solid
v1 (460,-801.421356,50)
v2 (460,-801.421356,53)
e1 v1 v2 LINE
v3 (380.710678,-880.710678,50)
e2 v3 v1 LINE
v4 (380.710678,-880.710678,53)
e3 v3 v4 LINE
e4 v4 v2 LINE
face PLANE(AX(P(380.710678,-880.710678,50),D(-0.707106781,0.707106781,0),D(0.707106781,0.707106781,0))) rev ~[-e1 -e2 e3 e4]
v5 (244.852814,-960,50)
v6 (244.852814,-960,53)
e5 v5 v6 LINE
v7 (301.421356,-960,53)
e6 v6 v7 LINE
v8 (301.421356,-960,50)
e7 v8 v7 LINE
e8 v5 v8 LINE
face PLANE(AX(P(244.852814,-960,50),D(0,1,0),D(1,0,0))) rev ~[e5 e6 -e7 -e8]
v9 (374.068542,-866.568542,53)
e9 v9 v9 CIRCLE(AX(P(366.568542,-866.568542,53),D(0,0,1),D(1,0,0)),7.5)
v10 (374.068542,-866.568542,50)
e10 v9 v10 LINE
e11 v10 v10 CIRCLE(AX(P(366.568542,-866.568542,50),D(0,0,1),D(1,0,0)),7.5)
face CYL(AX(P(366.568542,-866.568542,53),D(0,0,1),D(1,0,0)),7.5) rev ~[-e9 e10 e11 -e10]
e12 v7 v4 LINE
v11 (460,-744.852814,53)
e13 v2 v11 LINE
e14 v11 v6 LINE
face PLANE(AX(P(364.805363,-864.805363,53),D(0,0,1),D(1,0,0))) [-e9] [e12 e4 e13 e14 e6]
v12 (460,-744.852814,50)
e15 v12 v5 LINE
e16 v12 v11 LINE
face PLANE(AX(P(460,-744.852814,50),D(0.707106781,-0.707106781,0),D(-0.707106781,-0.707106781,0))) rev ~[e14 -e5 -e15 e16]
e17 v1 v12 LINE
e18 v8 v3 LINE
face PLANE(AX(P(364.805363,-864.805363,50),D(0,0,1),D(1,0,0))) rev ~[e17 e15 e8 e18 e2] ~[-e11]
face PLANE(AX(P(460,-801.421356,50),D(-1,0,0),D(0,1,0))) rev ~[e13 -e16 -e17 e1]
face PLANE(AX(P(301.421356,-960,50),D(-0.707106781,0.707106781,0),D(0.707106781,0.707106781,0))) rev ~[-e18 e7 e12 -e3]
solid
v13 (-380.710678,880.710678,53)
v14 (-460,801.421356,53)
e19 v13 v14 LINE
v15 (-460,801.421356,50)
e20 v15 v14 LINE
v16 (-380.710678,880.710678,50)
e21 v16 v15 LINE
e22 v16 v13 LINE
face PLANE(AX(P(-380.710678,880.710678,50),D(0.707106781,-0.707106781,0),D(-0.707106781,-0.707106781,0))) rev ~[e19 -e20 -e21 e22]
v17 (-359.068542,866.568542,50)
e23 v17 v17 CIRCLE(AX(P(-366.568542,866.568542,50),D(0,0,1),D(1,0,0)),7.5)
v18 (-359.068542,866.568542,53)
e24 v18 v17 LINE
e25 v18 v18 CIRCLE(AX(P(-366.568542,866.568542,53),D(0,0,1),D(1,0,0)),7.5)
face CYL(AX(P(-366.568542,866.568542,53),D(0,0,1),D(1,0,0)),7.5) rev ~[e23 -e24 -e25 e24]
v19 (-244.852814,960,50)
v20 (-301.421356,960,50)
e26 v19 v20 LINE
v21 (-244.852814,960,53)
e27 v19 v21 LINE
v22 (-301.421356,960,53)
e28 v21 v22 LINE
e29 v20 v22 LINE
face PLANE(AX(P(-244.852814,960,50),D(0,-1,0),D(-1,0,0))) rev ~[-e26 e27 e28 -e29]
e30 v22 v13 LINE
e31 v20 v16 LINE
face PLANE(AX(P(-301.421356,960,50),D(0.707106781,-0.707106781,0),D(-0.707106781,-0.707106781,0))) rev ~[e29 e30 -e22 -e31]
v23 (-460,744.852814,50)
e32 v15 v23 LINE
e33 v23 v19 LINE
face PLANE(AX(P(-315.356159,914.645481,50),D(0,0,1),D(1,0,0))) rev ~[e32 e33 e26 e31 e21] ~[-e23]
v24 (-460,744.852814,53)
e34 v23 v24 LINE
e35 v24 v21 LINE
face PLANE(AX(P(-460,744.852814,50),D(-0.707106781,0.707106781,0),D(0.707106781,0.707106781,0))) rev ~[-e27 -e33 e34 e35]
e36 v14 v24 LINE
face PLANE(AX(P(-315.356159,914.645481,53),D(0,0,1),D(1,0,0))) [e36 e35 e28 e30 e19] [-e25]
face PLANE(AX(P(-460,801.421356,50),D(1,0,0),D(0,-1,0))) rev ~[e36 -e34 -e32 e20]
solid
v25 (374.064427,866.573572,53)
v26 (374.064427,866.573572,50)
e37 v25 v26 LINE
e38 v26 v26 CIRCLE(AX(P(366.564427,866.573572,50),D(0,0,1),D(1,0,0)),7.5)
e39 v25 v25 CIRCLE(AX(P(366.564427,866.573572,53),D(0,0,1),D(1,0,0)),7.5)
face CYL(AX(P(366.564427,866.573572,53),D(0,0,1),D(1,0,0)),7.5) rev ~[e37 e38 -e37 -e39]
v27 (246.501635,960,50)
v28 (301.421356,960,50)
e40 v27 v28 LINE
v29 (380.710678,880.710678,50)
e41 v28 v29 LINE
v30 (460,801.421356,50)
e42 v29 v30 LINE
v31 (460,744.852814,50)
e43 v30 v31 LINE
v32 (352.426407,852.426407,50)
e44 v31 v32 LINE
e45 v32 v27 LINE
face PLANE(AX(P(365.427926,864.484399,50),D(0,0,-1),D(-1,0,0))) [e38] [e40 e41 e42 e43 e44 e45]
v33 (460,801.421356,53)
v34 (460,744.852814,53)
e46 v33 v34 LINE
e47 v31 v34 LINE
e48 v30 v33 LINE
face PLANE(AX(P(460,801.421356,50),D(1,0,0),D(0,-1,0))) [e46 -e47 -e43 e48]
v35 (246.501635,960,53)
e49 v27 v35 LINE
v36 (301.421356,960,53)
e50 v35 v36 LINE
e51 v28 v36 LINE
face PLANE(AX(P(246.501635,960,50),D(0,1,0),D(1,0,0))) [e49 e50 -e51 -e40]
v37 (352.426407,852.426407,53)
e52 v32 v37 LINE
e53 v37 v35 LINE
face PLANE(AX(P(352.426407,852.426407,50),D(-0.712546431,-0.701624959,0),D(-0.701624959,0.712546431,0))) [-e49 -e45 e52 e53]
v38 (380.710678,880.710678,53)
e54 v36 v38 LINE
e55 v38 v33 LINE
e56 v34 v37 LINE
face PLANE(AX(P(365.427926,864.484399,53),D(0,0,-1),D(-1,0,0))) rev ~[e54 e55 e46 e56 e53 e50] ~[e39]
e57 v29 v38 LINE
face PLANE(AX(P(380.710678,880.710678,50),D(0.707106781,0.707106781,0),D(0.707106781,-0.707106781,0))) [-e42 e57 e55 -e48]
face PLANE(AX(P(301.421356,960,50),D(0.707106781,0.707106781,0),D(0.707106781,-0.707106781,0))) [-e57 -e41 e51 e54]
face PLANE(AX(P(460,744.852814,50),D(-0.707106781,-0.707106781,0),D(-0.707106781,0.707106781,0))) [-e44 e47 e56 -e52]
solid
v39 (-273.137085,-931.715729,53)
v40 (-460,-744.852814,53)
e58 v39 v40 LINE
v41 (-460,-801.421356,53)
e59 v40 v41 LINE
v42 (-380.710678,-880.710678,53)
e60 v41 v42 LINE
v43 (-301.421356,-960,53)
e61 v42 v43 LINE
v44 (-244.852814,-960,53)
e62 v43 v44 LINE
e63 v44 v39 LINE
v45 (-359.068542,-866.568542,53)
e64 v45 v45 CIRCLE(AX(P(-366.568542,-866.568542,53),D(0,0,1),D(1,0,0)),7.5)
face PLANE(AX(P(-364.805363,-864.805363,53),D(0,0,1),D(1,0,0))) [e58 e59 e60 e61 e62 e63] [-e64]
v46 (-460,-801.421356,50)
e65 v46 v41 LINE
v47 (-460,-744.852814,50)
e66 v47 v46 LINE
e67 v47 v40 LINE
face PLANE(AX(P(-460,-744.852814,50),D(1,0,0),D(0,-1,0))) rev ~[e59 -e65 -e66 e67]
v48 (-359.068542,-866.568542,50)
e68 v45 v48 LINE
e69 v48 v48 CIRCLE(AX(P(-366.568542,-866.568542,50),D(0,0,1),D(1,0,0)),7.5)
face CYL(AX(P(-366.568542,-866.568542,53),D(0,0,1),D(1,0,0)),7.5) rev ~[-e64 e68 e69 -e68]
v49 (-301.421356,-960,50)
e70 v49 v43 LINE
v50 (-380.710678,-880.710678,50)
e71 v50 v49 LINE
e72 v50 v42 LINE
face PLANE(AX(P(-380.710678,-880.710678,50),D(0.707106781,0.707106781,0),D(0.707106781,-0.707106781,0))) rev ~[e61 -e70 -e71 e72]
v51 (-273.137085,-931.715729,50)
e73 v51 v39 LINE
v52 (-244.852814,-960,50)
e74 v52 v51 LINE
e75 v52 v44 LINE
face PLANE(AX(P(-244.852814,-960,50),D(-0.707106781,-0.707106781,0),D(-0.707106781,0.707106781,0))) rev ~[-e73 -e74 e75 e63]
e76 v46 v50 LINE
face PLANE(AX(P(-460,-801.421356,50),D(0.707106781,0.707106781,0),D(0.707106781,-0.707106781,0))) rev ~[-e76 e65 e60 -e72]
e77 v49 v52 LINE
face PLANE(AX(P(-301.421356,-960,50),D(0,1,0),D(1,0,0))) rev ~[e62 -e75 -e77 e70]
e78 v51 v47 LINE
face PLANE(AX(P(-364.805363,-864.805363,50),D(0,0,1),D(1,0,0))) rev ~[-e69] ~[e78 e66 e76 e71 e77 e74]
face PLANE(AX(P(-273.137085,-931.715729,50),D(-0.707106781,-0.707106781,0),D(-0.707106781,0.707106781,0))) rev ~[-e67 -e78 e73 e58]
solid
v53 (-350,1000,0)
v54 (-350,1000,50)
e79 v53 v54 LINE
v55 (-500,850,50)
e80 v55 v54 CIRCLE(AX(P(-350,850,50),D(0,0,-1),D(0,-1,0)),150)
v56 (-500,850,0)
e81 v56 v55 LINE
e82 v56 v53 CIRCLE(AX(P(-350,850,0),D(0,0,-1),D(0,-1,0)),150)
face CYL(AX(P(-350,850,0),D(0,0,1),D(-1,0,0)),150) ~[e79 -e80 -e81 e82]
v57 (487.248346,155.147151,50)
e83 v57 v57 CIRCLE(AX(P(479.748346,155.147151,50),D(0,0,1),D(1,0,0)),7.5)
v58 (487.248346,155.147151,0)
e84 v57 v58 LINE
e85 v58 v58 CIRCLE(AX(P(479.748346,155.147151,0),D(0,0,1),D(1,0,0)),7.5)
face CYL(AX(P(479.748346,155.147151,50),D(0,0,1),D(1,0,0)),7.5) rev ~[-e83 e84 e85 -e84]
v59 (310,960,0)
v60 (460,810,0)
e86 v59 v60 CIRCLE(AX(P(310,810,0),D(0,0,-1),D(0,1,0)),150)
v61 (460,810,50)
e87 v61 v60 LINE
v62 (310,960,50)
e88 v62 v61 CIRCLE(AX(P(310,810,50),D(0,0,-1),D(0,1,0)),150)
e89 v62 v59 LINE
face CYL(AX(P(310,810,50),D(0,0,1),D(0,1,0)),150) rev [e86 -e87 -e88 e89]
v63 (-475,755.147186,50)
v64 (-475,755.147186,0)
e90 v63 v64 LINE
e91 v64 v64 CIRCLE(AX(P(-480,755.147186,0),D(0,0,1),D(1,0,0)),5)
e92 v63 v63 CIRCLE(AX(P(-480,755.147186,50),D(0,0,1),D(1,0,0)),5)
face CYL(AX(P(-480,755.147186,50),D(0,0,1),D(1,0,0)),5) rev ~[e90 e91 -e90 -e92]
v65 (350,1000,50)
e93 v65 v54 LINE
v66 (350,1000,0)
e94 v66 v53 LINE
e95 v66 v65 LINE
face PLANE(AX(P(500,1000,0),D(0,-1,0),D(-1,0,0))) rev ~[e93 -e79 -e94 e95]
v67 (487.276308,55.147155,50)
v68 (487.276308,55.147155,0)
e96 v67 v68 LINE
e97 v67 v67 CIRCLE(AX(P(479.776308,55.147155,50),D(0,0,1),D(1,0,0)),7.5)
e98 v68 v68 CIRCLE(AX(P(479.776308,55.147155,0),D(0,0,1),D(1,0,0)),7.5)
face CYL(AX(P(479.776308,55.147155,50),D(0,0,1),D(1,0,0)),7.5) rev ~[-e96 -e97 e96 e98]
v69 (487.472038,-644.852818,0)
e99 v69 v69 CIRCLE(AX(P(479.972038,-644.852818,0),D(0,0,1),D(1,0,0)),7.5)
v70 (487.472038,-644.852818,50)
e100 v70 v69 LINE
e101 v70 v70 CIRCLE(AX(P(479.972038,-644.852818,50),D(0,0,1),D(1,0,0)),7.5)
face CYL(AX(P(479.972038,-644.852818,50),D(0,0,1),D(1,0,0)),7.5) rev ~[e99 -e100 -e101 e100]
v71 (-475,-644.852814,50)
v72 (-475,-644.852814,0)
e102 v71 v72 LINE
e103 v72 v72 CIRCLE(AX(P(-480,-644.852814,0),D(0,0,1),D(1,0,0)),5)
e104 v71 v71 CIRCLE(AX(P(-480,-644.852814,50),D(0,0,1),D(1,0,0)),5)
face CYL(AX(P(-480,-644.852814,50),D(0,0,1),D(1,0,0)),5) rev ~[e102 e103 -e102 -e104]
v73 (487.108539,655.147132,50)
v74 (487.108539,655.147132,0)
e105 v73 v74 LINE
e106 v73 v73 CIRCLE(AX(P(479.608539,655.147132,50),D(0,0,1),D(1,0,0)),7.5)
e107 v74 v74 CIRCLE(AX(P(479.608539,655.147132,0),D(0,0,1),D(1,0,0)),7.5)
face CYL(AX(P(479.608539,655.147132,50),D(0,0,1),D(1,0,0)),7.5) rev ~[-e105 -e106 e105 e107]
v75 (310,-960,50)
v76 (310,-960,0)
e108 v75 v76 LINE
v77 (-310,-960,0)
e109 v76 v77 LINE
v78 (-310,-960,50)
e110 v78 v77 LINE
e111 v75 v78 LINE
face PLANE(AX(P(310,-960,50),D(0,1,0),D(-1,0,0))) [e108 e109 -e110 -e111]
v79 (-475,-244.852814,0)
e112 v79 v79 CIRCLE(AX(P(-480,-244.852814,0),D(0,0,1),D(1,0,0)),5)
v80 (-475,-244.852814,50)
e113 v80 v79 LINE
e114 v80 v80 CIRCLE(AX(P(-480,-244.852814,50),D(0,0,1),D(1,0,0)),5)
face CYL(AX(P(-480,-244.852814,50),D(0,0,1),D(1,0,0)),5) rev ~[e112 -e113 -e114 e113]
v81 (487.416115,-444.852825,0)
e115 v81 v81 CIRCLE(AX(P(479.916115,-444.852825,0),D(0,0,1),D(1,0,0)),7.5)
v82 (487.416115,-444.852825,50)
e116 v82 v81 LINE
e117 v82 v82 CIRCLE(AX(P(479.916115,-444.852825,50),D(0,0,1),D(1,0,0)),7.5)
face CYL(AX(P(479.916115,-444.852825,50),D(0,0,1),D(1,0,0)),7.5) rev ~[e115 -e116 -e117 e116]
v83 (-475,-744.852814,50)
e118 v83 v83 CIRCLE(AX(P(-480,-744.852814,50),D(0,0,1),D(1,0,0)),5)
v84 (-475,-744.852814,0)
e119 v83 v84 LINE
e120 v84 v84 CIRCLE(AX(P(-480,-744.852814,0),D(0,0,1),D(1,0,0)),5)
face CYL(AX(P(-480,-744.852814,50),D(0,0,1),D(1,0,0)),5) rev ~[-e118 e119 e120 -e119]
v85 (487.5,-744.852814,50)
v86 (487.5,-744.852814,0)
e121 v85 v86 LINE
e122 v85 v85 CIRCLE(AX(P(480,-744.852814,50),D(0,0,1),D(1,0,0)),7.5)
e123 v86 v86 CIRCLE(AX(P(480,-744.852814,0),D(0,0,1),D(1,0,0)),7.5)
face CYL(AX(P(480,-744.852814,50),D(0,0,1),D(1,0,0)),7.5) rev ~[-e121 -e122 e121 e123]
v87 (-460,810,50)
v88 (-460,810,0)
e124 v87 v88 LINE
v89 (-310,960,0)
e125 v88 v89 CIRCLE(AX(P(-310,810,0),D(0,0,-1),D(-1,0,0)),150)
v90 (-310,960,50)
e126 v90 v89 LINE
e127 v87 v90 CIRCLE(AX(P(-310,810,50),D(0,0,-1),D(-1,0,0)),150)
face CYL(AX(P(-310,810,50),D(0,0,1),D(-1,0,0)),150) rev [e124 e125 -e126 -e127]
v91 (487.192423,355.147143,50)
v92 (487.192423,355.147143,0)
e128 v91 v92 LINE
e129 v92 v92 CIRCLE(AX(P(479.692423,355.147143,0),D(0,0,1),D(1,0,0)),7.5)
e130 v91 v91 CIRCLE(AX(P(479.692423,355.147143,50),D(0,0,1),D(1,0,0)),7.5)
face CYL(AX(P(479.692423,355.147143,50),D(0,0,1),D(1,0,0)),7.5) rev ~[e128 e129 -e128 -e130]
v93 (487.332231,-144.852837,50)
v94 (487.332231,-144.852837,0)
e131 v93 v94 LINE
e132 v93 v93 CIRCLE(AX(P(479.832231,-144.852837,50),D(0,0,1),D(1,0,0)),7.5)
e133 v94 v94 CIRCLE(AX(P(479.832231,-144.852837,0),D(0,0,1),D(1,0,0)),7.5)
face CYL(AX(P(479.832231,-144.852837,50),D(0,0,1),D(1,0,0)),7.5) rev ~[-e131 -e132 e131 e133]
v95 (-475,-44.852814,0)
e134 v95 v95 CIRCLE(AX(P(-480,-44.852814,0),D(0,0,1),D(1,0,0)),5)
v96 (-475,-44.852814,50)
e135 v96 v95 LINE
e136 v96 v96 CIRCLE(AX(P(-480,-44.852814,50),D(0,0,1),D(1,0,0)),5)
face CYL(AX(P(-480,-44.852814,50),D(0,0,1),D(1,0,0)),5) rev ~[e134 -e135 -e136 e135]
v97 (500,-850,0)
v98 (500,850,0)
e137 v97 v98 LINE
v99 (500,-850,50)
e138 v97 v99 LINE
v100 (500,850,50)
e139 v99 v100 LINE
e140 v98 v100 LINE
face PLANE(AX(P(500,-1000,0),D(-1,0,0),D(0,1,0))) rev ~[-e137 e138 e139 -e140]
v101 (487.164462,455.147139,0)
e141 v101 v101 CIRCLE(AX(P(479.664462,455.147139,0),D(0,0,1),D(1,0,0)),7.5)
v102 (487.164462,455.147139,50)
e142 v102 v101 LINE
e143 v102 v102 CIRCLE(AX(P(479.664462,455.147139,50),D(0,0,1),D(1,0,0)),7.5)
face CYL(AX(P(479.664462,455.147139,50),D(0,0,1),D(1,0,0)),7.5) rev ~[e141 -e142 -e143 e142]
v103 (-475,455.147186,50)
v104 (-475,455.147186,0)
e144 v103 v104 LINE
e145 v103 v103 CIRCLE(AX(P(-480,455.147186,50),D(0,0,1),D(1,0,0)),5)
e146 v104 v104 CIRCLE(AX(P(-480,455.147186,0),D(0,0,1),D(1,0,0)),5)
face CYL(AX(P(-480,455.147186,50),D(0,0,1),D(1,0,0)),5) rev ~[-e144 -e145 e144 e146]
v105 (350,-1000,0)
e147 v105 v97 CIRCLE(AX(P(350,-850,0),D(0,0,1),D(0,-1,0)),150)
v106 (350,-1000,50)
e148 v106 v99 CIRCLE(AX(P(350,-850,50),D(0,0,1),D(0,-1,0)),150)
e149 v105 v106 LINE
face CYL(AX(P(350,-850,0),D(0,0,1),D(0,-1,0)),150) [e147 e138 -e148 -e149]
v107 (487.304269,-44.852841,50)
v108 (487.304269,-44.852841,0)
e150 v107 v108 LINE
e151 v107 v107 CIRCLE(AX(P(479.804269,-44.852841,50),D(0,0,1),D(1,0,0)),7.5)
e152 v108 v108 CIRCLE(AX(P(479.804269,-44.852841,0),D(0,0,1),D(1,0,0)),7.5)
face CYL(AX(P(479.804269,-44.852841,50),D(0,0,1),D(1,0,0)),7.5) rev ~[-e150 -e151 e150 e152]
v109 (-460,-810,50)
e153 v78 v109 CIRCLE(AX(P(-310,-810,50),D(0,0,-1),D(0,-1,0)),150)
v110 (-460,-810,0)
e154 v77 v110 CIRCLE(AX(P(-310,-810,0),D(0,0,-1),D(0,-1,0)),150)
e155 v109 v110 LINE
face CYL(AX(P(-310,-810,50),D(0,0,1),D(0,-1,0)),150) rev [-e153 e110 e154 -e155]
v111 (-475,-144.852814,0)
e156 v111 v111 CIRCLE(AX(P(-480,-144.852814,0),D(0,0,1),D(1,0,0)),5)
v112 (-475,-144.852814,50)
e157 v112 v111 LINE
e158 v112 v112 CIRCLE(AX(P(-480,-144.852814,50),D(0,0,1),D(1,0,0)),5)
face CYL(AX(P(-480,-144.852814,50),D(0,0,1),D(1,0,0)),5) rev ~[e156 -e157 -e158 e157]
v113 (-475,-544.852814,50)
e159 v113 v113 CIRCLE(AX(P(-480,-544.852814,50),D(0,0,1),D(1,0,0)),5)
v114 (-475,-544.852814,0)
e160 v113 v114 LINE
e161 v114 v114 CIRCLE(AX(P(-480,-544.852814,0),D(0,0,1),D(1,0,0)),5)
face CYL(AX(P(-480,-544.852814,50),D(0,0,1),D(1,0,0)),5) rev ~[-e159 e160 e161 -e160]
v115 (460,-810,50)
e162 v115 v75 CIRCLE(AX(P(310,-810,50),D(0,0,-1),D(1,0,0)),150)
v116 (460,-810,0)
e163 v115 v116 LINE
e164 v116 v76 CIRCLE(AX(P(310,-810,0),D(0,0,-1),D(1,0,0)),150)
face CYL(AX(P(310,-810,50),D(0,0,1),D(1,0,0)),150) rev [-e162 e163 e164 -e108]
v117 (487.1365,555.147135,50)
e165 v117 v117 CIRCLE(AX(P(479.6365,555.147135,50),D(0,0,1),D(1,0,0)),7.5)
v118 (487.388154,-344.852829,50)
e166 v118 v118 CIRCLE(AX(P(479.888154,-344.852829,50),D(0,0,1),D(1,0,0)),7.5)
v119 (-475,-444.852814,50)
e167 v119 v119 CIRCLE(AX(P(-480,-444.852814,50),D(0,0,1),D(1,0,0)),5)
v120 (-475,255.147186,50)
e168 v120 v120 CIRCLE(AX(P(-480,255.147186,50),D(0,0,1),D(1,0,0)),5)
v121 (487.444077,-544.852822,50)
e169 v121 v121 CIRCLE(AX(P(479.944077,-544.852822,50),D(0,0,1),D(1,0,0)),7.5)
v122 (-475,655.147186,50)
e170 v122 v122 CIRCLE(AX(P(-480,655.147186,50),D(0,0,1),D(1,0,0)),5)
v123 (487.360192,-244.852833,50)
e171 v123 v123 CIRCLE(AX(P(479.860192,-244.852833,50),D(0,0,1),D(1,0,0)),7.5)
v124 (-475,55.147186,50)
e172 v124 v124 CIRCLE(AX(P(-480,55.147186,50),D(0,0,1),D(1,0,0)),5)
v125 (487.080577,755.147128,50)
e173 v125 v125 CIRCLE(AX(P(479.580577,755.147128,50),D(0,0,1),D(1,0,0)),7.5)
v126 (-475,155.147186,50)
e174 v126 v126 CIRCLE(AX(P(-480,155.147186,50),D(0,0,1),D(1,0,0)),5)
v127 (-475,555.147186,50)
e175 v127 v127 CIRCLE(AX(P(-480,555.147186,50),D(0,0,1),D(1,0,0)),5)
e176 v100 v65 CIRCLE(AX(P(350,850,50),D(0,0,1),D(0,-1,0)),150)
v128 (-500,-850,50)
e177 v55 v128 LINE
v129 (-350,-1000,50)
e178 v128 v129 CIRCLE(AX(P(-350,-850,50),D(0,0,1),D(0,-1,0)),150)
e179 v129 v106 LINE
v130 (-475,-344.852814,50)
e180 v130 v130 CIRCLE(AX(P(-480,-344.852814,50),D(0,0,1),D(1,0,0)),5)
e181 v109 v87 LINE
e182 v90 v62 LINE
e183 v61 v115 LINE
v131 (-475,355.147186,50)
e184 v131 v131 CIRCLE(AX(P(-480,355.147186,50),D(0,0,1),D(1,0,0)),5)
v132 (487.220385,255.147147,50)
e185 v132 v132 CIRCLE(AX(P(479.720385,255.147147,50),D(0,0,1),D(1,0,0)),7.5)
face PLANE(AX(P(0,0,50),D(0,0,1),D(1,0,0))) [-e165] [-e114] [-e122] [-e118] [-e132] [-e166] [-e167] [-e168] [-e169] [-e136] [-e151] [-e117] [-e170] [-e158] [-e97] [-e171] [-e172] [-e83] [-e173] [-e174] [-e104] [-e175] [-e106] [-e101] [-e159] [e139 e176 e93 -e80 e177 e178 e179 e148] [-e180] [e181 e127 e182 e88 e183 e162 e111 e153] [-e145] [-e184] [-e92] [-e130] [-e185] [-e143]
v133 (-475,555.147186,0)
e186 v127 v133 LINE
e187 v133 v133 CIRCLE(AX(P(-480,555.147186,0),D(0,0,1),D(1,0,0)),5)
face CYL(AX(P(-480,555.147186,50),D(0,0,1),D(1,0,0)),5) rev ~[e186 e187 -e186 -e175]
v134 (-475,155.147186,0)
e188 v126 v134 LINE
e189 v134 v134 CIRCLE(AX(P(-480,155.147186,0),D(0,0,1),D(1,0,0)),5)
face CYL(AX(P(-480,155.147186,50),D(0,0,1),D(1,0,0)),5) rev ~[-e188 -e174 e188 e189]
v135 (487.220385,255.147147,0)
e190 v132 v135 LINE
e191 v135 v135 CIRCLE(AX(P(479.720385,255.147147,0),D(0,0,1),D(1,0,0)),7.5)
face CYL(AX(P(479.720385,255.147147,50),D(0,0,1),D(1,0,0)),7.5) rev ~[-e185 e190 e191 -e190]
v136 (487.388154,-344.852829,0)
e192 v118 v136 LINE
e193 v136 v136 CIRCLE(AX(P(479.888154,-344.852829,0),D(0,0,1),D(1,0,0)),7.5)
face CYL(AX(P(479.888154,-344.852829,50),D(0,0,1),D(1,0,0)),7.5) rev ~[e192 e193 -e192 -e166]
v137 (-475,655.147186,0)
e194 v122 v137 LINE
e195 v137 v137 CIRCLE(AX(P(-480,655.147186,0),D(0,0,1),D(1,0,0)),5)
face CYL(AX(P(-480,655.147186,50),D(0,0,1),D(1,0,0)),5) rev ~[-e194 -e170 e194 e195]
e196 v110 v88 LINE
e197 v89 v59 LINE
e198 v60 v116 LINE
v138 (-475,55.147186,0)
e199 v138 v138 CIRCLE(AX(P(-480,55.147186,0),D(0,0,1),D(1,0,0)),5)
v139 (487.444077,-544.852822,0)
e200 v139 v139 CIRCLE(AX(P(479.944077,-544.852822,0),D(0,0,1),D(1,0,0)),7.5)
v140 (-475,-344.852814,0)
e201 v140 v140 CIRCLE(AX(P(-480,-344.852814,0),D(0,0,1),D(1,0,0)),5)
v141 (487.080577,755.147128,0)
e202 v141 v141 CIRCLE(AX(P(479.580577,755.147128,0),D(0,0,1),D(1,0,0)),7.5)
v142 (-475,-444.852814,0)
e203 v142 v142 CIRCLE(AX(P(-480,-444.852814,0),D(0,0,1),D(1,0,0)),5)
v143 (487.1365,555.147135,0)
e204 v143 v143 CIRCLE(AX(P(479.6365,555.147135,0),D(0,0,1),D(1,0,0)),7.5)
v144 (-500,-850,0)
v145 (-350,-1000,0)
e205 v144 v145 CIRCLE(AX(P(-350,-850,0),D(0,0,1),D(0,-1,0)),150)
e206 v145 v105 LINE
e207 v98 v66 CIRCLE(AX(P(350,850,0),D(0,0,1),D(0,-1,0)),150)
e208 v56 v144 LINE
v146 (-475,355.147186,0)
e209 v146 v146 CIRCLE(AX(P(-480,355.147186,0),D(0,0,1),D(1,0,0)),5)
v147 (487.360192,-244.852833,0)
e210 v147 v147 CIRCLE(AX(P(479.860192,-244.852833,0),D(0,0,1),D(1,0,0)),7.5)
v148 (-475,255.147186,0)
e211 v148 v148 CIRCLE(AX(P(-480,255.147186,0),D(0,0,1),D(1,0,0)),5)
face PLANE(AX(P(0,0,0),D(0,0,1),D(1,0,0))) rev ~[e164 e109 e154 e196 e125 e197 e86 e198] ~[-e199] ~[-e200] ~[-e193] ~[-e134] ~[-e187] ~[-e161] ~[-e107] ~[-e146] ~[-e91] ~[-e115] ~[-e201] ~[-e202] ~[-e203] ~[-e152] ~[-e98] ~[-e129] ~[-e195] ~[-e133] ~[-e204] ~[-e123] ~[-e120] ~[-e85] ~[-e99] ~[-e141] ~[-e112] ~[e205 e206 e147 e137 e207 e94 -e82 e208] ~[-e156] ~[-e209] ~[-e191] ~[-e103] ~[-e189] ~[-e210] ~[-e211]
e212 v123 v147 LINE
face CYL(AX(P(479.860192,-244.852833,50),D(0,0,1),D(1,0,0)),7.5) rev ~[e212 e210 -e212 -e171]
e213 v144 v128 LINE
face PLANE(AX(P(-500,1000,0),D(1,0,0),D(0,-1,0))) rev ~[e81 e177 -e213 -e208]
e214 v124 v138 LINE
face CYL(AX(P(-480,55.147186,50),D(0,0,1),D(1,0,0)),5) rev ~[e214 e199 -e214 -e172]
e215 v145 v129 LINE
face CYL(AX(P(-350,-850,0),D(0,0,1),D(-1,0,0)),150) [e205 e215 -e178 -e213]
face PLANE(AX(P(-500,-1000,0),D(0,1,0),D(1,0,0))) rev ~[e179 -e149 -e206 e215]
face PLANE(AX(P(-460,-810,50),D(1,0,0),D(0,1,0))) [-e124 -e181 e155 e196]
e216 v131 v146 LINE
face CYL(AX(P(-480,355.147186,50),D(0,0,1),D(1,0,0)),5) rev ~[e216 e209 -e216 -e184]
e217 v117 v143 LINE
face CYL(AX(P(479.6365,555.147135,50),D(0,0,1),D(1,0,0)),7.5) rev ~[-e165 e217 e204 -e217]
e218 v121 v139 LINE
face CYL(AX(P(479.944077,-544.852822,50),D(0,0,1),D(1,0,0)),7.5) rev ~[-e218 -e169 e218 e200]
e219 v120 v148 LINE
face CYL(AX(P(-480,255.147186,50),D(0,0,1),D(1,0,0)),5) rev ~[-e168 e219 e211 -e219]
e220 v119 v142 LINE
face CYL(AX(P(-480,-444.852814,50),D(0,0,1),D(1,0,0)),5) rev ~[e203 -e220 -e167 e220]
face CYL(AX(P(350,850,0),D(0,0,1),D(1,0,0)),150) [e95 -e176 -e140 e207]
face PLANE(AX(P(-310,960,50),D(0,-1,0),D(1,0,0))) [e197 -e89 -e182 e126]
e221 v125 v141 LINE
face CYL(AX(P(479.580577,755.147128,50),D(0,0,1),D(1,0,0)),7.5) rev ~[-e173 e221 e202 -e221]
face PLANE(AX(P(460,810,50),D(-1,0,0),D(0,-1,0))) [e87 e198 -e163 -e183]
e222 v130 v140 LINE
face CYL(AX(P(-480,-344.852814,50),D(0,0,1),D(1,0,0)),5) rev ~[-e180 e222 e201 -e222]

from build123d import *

# Parameters (mm, degrees)
ESTRUSIONE_ESTRUSIONE2_DEPTH = 50
RACCORDO2_R                  = 150
TAGLIO_ESTRUSIONE2_DEPTH     = 50
ESTRUSIONE_ESTRUSIONE5_DEPTH = 3
ESTRUSIONE_ESTRUSIONE6_DEPTH = 3
ESTRUSIONE_ESTRUSIONE7_DEPTH = 3
ESTRUSIONE_ESTRUSIONE8_DEPTH = 3
SCHIZZO11_R                  = 7.5
TAGLIO_ESTRUSIONE3_DEPTH     = 54
SCHIZZO12_R                  = 7.5
TAGLIO_ESTRUSIONE4_DEPTH     = 54
SCHIZZO13_R                  = 7.5
TAGLIO_ESTRUSIONE5_DEPTH     = 54
SCHIZZO14_R                  = 7.5
TAGLIO_ESTRUSIONE6_DEPTH     = 54
SCHIZZO15_R                  = 7.5
TAGLIO_ESTRUSIONE7_DEPTH     = 51
SCHIZZO16_R                  = 5
TAGLIO_ESTRUSIONE9_DEPTH     = 51


with BuildPart() as part:
    # Schizzo1 → Estrusione-Estrusione2 (new body)
    with BuildSketch(Plane.XY):
        Polygon((-204.549340991, 1000), (-500, 1000), (-500, -1000), (500, -1000), (500, 1000), align=None)
    extrude(amount=ESTRUSIONE_ESTRUSIONE2_DEPTH)

    # Raccordo2
    raccordo2_edges = [part.edges().sort_by_distance(p)[0] for p in [
        (500, -1000, 25),
        (-500, -1000, 25),
        (-500, 1000, 25),
        (500, 1000, 25),
    ]]
    fillet(raccordo2_edges, radius=RACCORDO2_R)

    # Schizzo4 → Taglio-Estrusione2 (cut)
    with BuildSketch(Plane.XY.offset(50)):
        with BuildLine():
            Line((-310, 960), (310, 960))
            ThreePointArc((310, 960), (416.066017178, 916.066017178), (460, 810))
            Line((460, 810), (460, -810))
            ThreePointArc((460, -810), (416.066017178, -916.066017178), (310, -960))
            Line((310, -960), (-310, -960))
            ThreePointArc((-310, -960), (-416.066017178, -916.066017178), (-460, -810))
            Line((-460, -810), (-460, 810))
            ThreePointArc((-460, 810), (-416.066017178, 916.066017178), (-310, 960))
        make_face()
    extrude(amount=-TAGLIO_ESTRUSIONE2_DEPTH, mode=Mode.SUBTRACT)

    # Schizzo15 → Taglio-Estrusione7 (cut, through all)
    with BuildSketch(Plane.XY.offset(50)):
        with Locations((480, -744.852813742)):
            Circle(SCHIZZO15_R)
        with Locations((479.972038493, -644.852817652)):
            Circle(SCHIZZO15_R)
        with Locations((479.944076987, -544.852821561)):
            Circle(SCHIZZO15_R)
        with Locations((479.91611548, -444.85282547)):
            Circle(SCHIZZO15_R)
        with Locations((479.888153974, -344.852829379)):
            Circle(SCHIZZO15_R)
        with Locations((479.860192467, -244.852833289)):
            Circle(SCHIZZO15_R)
        with Locations((479.83223096, -144.852837198)):
            Circle(SCHIZZO15_R)
        with Locations((479.804269454, -44.852841107)):
            Circle(SCHIZZO15_R)
        with Locations((479.776307947, 55.147154984)):
            Circle(SCHIZZO15_R)
        with Locations((479.748346441, 155.147151075)):
            Circle(SCHIZZO15_R)
        with Locations((479.720384934, 255.147147165)):
            Circle(SCHIZZO15_R)
        with Locations((479.692423427, 355.147143256)):
            Circle(SCHIZZO15_R)
        with Locations((479.664461921, 455.147139347)):
            Circle(SCHIZZO15_R)
        with Locations((479.636500414, 555.147135438)):
            Circle(SCHIZZO15_R)
        with Locations((479.608538908, 655.147131528)):
            Circle(SCHIZZO15_R)
        with Locations((479.580577401, 755.147127619)):
            Circle(SCHIZZO15_R)
    extrude(amount=-TAGLIO_ESTRUSIONE7_DEPTH, mode=Mode.SUBTRACT)

    # Schizzo16 → Taglio-Estrusione9 (cut, through all)
    with BuildSketch(Plane.XY.offset(50)):
        with Locations((-480, -744.852813742)):
            Circle(SCHIZZO16_R)
        with Locations((-480, -644.852813742)):
            Circle(SCHIZZO16_R)
        with Locations((-480, -544.852813742)):
            Circle(SCHIZZO16_R)
        with Locations((-480, -444.852813742)):
            Circle(SCHIZZO16_R)
        with Locations((-480, -344.852813742)):
            Circle(SCHIZZO16_R)
        with Locations((-480, -244.852813742)):
            Circle(SCHIZZO16_R)
        with Locations((-480, -144.852813742)):
            Circle(SCHIZZO16_R)
        with Locations((-480, -44.852813742)):
            Circle(SCHIZZO16_R)
        with Locations((-480, 55.147186258)):
            Circle(SCHIZZO16_R)
        with Locations((-480, 155.147186258)):
            Circle(SCHIZZO16_R)
        with Locations((-480, 255.147186258)):
            Circle(SCHIZZO16_R)
        with Locations((-480, 355.147186258)):
            Circle(SCHIZZO16_R)
        with Locations((-480, 455.147186258)):
            Circle(SCHIZZO16_R)
        with Locations((-480, 555.147186258)):
            Circle(SCHIZZO16_R)
        with Locations((-480, 655.147186258)):
            Circle(SCHIZZO16_R)
        with Locations((-480, 755.147186258)):
            Circle(SCHIZZO16_R)
    extrude(amount=-TAGLIO_ESTRUSIONE9_DEPTH, mode=Mode.SUBTRACT)


with BuildPart() as body_2:
    # Schizzo7 → Estrusione-Estrusione5 (new body)
    with BuildSketch(Plane.XY.offset(50)):
        Polygon((380.710678119, 880.710678119), (460, 801.421356237), (460, 744.852813742), (352.426406871, 852.426406871), (246.501635368, 960), (301.421356237, 960), align=None)
    extrude(amount=ESTRUSIONE_ESTRUSIONE5_DEPTH)

    # Schizzo12 → Taglio-Estrusione4 (cut, through all)
    with BuildSketch(Plane.XY.offset(53)):
        with Locations((366.564427275, 866.573571801)):
            Circle(SCHIZZO12_R)
    extrude(amount=-TAGLIO_ESTRUSIONE4_DEPTH, mode=Mode.SUBTRACT)


with BuildPart() as body_3:
    # Schizzo8 → Estrusione-Estrusione6 (new body)
    with BuildSketch(Plane.XY.offset(50)):
        Polygon((-301.421356237, 960), (-380.710678119, 880.710678119), (-352.426406871, 852.426406871), (-244.852813742, 960), align=None)
        Polygon((-352.426406871, 852.426406871), (-380.710678119, 880.710678119), (-460, 801.421356237), (-460, 744.852813742), align=None)
    extrude(amount=ESTRUSIONE_ESTRUSIONE6_DEPTH)

    # Schizzo11 → Taglio-Estrusione3 (cut, through all)
    with BuildSketch(Plane.XY.offset(53)):
        with Locations((-366.568542495, 866.568542495)):
            Circle(SCHIZZO11_R)
    extrude(amount=-TAGLIO_ESTRUSIONE3_DEPTH, mode=Mode.SUBTRACT)


with BuildPart() as body_4:
    # Schizzo9 → Estrusione-Estrusione7 (new body)
    with BuildSketch(Plane.XY.offset(50)):
        Polygon((-460, -801.421356237), (-380.710678119, -880.710678119), (-301.421356237, -960), (-244.852813742, -960), (-273.13708499, -931.715728753), (-460, -744.852813742), align=None)
    extrude(amount=ESTRUSIONE_ESTRUSIONE7_DEPTH)

    # Schizzo13 → Taglio-Estrusione5 (cut, through all)
    with BuildSketch(Plane.XY.offset(53)):
        with Locations((-366.568542495, -866.568542495)):
            Circle(SCHIZZO13_R)
    extrude(amount=-TAGLIO_ESTRUSIONE5_DEPTH, mode=Mode.SUBTRACT)


with BuildPart() as body_5:
    # Schizzo10 → Estrusione-Estrusione8 (new body)
    with BuildSketch(Plane.XY.offset(50)):
        Polygon((301.421356237, -960), (380.710678119, -880.710678119), (460, -801.421356237), (460, -744.852813742), (352.426406871, -852.426406871), (244.852813742, -960), align=None)
    extrude(amount=ESTRUSIONE_ESTRUSIONE8_DEPTH)

    # Schizzo14 → Taglio-Estrusione6 (cut, through all)
    with BuildSketch(Plane.XY.offset(53)):
        with Locations((366.568542495, -866.568542495)):
            Circle(SCHIZZO14_R)
    extrude(amount=-TAGLIO_ESTRUSIONE6_DEPTH, mode=Mode.SUBTRACT)


solid = Compound([part.part, body_2.part, body_3.part, body_4.part, body_5.part])
